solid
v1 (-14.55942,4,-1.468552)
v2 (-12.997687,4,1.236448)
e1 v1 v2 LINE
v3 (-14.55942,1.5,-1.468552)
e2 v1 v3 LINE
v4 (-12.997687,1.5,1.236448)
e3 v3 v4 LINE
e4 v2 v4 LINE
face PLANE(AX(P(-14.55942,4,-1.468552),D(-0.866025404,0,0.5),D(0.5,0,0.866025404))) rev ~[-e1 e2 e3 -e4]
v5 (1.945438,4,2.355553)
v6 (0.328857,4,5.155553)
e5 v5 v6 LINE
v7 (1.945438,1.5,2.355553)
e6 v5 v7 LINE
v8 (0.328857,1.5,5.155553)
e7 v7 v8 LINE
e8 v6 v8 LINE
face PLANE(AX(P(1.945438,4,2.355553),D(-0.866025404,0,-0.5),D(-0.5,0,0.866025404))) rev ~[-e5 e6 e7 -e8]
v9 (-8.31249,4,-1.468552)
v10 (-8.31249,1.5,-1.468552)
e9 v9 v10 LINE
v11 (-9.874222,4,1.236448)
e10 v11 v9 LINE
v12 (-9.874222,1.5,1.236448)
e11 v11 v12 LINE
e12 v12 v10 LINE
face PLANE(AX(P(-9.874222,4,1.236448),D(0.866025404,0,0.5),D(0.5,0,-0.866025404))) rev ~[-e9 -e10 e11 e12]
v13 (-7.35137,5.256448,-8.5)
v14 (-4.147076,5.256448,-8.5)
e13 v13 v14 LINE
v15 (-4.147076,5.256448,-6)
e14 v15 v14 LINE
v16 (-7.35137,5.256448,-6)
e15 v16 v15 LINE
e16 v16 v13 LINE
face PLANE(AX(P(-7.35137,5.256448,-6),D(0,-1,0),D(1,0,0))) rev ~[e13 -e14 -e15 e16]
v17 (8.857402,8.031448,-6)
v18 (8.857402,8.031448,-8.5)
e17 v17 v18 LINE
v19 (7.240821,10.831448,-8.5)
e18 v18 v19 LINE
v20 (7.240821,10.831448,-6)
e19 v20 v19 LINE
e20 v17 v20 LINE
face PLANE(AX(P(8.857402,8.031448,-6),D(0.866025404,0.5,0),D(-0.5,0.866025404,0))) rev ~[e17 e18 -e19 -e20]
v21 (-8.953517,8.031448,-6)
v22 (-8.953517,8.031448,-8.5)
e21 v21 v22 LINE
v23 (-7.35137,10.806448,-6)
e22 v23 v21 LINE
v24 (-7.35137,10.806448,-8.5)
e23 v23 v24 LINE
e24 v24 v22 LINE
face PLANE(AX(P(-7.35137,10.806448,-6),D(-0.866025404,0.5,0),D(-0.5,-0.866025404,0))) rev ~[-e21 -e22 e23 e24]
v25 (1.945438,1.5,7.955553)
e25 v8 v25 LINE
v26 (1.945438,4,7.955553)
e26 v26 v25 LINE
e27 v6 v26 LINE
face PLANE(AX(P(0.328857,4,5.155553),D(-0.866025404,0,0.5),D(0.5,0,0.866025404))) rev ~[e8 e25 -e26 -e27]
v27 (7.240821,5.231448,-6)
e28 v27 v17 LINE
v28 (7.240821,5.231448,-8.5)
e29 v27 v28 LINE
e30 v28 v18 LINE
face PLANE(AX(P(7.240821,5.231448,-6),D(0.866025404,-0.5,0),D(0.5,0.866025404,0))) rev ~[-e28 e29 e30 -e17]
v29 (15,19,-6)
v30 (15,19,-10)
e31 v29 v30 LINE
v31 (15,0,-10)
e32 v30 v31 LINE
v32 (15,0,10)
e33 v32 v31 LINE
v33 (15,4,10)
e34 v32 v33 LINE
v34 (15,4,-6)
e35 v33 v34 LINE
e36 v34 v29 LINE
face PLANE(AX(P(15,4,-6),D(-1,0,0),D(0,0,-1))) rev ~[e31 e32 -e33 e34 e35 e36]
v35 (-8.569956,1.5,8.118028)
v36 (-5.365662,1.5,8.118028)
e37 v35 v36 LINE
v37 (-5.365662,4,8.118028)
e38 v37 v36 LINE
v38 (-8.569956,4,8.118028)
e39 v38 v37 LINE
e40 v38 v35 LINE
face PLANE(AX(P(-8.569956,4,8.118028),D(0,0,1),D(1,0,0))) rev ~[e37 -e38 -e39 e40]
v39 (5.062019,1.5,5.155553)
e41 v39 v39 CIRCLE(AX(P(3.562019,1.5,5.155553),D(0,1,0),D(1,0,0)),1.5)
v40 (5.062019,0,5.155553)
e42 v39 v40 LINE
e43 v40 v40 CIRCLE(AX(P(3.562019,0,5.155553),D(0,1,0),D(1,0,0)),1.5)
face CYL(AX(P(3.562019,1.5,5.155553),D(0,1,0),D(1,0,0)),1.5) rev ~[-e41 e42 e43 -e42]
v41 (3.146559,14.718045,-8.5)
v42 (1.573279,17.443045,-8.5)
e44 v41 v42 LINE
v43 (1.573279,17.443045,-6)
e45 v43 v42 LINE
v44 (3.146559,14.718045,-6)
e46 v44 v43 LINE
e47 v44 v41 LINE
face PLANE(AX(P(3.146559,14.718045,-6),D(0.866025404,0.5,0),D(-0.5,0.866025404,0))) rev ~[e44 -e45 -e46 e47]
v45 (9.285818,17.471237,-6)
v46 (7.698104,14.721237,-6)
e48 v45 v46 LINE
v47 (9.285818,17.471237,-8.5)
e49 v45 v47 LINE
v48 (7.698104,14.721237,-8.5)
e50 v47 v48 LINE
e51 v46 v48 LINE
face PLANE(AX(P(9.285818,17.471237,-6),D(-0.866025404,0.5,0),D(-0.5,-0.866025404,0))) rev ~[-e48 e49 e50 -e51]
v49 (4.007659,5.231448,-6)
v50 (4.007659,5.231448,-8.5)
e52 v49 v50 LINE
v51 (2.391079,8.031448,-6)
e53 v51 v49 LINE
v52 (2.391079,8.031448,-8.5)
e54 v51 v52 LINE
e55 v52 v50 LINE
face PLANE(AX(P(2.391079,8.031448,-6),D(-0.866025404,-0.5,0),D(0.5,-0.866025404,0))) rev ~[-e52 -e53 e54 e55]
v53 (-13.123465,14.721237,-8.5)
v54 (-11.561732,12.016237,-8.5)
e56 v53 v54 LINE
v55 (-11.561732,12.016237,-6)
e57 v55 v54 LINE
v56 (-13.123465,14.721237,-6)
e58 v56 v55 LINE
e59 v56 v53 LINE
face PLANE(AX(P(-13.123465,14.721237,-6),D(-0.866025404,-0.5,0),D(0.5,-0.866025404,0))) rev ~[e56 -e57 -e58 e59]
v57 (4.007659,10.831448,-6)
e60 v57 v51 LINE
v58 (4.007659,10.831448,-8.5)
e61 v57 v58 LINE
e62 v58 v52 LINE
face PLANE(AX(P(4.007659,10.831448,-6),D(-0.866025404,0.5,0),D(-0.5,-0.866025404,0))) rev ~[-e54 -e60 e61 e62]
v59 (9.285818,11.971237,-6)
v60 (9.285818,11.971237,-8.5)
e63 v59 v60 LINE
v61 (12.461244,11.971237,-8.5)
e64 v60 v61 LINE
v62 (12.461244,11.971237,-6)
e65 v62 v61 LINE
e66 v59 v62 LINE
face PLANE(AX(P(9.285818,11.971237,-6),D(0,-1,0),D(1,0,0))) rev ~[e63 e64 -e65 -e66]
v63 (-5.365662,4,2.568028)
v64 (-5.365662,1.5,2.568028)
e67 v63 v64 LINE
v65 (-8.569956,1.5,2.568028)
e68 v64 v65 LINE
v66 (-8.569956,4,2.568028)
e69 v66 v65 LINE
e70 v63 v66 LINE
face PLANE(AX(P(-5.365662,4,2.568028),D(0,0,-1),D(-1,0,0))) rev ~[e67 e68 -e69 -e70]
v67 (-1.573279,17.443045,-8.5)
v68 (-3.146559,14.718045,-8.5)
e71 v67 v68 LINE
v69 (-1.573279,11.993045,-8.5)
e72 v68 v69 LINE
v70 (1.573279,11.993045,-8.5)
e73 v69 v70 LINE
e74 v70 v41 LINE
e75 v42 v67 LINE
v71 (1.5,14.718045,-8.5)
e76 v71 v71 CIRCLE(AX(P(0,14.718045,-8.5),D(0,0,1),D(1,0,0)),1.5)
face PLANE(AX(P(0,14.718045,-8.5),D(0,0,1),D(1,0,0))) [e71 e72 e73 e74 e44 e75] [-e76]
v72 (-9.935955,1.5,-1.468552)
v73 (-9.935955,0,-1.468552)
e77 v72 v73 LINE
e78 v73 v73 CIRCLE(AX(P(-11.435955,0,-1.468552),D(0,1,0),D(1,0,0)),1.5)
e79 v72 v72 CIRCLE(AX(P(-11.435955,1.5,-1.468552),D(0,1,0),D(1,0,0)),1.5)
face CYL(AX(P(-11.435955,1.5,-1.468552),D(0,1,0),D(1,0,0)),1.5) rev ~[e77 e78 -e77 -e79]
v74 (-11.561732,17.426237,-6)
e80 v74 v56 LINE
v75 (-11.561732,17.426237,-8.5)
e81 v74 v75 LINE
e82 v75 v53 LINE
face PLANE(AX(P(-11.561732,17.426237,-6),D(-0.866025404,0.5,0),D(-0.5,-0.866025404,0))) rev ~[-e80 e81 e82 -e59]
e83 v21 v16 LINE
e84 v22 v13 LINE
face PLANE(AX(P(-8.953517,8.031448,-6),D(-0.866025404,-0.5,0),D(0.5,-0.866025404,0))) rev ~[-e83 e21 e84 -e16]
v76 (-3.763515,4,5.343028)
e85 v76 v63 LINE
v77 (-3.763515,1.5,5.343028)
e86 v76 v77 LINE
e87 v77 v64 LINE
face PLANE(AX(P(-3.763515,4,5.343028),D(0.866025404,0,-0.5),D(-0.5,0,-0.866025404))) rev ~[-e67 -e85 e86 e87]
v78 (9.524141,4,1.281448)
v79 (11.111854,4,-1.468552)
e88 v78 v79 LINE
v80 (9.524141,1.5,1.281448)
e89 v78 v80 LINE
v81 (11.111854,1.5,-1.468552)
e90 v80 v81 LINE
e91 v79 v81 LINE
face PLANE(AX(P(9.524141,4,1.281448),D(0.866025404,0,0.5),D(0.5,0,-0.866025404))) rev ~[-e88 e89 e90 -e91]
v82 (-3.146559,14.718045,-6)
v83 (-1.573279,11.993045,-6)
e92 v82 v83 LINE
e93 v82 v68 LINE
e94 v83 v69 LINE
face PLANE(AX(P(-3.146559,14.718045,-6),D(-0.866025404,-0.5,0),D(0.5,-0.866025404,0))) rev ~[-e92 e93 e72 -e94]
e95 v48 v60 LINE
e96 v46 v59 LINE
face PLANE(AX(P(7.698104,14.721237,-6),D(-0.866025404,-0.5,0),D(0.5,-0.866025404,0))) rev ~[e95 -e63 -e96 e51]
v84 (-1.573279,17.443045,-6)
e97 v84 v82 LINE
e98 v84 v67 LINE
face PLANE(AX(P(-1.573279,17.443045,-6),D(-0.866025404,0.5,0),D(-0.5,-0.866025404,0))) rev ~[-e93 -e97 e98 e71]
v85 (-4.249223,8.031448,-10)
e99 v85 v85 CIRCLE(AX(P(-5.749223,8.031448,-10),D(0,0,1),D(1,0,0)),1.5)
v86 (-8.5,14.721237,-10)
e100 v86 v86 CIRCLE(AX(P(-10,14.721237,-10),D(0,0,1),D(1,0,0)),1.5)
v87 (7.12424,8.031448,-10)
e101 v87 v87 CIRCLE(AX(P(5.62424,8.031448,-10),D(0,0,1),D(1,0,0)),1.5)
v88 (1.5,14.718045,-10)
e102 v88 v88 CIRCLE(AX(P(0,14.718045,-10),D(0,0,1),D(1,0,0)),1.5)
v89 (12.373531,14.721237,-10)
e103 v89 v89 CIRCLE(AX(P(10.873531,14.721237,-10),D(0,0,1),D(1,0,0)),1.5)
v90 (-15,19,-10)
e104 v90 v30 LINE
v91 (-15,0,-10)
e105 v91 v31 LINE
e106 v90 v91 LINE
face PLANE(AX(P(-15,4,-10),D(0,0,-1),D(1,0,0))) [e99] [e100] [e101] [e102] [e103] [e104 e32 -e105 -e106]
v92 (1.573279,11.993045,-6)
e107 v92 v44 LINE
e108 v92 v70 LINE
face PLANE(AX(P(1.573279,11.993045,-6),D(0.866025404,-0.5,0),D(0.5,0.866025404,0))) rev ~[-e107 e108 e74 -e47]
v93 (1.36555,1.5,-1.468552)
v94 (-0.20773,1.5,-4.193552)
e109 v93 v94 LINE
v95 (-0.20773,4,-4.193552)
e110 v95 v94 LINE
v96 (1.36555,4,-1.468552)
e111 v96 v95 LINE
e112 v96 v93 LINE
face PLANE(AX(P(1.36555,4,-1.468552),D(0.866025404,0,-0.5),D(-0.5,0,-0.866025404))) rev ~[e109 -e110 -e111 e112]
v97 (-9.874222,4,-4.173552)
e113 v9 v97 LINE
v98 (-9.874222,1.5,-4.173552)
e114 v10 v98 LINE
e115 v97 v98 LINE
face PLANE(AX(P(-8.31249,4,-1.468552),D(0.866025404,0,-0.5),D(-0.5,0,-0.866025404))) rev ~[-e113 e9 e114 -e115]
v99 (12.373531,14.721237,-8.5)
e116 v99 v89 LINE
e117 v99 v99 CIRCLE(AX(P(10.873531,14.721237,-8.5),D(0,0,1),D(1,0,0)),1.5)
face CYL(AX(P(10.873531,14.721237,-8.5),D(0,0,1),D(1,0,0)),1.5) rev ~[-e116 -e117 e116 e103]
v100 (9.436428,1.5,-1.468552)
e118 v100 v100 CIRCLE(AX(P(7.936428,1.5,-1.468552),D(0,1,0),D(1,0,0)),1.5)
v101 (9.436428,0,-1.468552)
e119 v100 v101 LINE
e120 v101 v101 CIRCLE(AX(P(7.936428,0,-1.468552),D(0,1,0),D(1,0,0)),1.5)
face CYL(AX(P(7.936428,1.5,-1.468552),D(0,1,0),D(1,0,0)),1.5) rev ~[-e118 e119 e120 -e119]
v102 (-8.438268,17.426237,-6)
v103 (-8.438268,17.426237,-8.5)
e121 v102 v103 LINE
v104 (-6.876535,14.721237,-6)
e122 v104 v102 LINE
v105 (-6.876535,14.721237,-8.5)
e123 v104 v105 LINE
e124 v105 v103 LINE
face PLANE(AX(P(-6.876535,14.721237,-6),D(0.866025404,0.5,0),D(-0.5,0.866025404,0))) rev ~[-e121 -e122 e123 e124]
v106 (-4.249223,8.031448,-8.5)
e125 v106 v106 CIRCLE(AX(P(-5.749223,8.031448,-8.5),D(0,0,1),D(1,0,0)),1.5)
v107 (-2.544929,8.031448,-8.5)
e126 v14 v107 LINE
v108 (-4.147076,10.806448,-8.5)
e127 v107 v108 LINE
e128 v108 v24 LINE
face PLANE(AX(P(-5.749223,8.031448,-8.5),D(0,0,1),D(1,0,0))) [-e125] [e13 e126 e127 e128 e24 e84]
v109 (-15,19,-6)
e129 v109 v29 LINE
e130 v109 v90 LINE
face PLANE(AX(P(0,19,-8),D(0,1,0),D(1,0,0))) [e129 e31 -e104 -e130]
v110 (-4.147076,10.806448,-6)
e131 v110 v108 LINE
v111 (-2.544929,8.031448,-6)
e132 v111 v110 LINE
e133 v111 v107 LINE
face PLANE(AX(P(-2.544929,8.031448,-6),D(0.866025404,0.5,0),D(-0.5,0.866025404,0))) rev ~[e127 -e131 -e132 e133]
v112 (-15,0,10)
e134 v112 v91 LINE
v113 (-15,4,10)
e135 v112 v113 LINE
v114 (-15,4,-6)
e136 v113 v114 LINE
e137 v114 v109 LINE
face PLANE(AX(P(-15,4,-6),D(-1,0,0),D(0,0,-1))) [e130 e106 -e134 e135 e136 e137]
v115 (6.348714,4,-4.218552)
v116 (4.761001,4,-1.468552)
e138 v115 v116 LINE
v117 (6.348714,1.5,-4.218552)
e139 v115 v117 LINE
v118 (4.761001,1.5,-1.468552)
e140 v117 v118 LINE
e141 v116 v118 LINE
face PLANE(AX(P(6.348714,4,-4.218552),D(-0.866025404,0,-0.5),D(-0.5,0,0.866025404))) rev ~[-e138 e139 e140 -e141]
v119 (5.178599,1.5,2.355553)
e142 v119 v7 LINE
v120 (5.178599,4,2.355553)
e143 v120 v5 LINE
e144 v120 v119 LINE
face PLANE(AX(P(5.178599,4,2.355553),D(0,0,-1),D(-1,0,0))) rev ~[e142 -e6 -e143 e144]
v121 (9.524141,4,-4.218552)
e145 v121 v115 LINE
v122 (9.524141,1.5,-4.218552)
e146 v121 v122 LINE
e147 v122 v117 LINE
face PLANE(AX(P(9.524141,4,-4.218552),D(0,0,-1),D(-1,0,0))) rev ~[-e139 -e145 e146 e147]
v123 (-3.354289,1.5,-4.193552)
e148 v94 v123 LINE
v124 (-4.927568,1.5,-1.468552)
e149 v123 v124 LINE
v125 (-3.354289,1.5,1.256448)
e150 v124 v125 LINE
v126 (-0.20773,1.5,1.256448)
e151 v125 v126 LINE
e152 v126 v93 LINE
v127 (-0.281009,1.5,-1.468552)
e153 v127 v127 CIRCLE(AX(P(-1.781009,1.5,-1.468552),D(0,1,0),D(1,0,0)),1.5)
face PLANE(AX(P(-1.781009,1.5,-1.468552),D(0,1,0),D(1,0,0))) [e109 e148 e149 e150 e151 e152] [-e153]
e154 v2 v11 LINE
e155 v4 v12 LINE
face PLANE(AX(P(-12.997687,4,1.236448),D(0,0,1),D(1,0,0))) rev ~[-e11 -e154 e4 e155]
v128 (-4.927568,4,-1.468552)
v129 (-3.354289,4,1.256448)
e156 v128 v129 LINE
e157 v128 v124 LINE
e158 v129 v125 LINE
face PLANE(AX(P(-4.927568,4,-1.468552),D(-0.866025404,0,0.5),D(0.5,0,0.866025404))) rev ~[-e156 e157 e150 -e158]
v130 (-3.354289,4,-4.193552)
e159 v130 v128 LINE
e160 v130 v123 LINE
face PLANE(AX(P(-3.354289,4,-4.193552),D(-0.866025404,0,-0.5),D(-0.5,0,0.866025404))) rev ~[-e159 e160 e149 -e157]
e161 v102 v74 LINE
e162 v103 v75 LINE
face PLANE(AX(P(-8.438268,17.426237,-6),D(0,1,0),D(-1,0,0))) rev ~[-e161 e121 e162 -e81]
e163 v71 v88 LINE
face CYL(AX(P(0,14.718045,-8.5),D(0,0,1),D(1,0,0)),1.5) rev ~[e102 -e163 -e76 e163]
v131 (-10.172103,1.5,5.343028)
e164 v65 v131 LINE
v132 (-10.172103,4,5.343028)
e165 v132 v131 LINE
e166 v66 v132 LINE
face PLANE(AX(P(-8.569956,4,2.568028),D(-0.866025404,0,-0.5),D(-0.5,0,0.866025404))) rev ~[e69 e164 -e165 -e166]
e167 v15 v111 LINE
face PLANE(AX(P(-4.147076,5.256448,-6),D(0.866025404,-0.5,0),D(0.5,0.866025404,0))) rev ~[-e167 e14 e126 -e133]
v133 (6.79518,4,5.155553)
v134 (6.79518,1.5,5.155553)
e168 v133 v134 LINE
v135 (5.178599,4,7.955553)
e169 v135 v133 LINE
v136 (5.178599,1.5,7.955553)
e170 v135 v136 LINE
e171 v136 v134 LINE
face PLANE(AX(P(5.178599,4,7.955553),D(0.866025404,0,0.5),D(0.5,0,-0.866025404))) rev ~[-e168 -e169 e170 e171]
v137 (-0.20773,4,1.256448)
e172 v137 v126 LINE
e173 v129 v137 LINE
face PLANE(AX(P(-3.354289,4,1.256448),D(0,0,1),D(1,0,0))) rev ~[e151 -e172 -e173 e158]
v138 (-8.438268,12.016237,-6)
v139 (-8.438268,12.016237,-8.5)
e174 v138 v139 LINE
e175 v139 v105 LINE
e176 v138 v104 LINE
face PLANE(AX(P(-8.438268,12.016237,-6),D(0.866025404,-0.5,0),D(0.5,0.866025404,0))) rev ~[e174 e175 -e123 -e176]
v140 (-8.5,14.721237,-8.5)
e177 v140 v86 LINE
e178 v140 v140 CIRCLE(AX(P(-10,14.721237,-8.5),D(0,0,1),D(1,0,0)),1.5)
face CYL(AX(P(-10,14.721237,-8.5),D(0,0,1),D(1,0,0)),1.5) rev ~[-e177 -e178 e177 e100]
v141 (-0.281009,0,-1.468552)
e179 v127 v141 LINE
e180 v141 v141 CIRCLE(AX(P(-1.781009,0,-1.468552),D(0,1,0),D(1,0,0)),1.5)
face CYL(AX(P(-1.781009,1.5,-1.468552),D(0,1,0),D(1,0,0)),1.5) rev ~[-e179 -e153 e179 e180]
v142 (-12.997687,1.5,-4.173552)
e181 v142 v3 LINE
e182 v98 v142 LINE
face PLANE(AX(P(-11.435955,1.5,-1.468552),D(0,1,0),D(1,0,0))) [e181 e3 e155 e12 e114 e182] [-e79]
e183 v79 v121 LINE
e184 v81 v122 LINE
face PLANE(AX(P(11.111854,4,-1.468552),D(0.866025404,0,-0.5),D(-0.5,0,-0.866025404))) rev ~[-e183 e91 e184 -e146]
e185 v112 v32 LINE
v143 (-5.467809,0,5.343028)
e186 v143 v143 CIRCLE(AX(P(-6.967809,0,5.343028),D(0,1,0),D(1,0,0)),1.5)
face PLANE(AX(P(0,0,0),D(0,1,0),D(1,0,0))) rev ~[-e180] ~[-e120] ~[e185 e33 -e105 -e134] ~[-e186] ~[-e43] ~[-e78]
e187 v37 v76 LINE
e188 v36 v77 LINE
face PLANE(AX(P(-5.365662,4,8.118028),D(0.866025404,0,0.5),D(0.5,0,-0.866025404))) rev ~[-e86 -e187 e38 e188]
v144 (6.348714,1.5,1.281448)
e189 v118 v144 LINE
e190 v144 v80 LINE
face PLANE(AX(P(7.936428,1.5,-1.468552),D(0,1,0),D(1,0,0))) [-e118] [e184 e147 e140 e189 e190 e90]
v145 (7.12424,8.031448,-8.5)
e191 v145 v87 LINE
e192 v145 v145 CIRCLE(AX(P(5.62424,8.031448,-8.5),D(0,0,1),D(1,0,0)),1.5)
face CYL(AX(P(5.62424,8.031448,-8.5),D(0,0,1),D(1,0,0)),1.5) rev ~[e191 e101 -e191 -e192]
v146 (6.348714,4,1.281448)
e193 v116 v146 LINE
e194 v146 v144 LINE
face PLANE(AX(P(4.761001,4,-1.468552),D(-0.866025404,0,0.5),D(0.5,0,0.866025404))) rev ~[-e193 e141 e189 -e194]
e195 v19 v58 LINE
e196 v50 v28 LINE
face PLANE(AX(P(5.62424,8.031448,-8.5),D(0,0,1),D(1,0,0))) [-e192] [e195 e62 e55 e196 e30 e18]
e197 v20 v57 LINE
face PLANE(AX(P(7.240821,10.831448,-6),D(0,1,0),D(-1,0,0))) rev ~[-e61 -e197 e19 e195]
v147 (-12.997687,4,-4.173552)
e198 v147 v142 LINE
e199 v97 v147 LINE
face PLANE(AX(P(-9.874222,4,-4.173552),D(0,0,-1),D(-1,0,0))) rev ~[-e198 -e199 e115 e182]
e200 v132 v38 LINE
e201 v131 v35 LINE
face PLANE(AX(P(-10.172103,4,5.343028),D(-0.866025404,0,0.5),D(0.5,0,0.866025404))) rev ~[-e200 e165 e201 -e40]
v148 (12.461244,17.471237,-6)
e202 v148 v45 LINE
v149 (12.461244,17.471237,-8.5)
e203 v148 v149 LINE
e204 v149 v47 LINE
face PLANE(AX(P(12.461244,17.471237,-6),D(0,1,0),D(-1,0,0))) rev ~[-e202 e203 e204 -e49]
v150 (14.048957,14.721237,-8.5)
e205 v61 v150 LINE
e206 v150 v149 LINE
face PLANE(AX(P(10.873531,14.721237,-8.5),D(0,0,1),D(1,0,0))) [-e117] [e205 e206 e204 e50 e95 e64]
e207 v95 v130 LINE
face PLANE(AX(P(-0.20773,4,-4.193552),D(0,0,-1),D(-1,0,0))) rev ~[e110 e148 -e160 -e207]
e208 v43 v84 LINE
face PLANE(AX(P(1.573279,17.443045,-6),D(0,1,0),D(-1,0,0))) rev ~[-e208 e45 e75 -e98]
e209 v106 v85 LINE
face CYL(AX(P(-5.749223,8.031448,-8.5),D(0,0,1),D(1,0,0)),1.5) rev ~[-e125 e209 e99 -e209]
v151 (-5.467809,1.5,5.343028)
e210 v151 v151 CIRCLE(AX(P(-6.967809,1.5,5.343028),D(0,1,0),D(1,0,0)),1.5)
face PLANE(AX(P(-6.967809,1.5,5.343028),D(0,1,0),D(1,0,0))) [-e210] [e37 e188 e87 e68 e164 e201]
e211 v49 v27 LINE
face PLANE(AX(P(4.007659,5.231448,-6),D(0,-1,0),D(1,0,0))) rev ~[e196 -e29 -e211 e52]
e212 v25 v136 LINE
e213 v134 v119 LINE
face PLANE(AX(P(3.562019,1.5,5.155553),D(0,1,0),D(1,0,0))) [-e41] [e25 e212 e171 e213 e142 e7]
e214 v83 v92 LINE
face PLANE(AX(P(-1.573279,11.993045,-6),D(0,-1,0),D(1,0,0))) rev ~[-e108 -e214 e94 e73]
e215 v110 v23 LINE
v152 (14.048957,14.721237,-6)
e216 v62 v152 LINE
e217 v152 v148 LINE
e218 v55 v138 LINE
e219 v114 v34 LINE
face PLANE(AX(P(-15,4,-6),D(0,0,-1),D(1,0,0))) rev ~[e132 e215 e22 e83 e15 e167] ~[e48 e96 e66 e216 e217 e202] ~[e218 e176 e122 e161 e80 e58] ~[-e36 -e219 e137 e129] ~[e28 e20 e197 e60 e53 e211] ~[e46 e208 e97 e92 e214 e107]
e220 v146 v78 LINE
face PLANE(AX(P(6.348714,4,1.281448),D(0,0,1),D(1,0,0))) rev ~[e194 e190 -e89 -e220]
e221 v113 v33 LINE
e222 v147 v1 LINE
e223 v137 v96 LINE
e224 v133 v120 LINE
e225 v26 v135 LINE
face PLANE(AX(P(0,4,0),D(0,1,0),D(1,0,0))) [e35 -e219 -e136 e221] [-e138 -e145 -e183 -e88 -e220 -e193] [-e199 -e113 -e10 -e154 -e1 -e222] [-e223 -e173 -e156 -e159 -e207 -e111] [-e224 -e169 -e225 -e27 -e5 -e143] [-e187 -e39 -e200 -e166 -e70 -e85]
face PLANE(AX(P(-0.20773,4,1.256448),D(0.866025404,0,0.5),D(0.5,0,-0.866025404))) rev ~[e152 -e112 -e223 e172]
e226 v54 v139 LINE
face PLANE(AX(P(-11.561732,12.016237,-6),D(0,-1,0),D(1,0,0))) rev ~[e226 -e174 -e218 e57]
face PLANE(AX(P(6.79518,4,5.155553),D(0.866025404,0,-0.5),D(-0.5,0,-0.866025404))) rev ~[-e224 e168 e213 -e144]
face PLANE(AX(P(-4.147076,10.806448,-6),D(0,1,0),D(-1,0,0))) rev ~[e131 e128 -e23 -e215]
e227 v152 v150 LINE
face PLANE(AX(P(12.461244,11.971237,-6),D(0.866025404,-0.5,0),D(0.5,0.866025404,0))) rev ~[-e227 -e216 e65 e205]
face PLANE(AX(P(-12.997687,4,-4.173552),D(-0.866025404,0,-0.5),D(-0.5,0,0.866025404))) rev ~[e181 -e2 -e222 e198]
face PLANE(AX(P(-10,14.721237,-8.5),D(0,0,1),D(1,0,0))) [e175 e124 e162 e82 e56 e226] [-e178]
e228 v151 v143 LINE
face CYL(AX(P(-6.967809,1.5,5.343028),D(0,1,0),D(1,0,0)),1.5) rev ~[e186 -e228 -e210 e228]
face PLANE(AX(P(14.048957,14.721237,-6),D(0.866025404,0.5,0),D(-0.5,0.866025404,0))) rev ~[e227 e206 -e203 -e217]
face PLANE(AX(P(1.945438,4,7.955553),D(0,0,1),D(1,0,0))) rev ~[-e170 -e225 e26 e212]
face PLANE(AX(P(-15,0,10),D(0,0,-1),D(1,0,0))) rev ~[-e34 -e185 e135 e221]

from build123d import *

# Parameters (mm, degrees)
SKETCH1_W               = 30
SKETCH1_H               = 20
BOSS_EXTRUDE1_DEPTH     = 4
SKETCH2_W               = 30
SKETCH2_H               = 4
BOSS_EXTRUDE2_DEPTH     = 15
CUT_EXTRUDE1_DEPTH      = 2.5
SKETCH4_R               = 1.5
CUT_EXTRUDE2_DEPTH      = 19.5
CUT_EXTRUDE2_DEPTH_BACK = 2.5
CUT_EXTRUDE3_DEPTH      = 16
CUT_EXTRUDE3_DEPTH_BACK = 2.5
SKETCH6_R               = 1.5
CUT_EXTRUDE4_DEPTH      = 18.5
CUT_EXTRUDE4_DEPTH_BACK = 2.5


with BuildPart() as part:
    # Sketch1 → Boss-Extrude1 (new body)
    with BuildSketch(Plane(origin=(0, 0, 0), x_dir=(1, 0, 0), z_dir=(0, 1, 0))):
        Rectangle(SKETCH1_W, SKETCH1_H)
    extrude(amount=BOSS_EXTRUDE1_DEPTH)

    # Sketch2 → Boss-Extrude2 (add)
    with BuildSketch(Plane(origin=(0, 4, 0), x_dir=(1, 0, 0), z_dir=(0, 1, 0))):
        with Locations((0, 8)):
            Rectangle(SKETCH2_W, SKETCH2_H)
    extrude(amount=BOSS_EXTRUDE2_DEPTH)

    # Sketch3 → Cut-Extrude1 (cut)
    with BuildSketch(Plane.XY.offset(-6)):
        Polygon((-8.438267522, 12.016236672), (-6.876535044, 14.721236672), (-8.438267522, 17.426236672), (-11.561732478, 17.426236672), (-13.123464956, 14.721236672), (-11.561732478, 12.016236672), align=None)
        Polygon((1.573279484, 11.993045001), (3.146558967, 14.718045001), (1.573279484, 17.443045001), (-1.573279484, 17.443045001), (-3.146558967, 14.718045001), (-1.573279484, 11.993045001), align=None)
        Polygon((12.46124414, 11.971236672), (14.048957381, 14.721236672), (12.46124414, 17.471236672), (9.28581766, 17.471236672), (7.69810442, 14.721236672), (9.28581766, 11.971236672), align=None)
        Polygon((-4.147076238, 5.256448413), (-2.544929241, 8.031448413), (-4.147076238, 10.806448413), (-7.351370232, 10.806448413), (-8.953517229, 8.031448413), (-7.351370232, 5.256448413), align=None)
        Polygon((7.240820874, 5.231448413), (8.857401628, 8.031448413), (7.240820874, 10.831448413), (4.007659367, 10.831448413), (2.391078613, 8.031448413), (4.007659367, 5.231448413), align=None)
    extrude(amount=-CUT_EXTRUDE1_DEPTH, mode=Mode.SUBTRACT)

    # Sketch4 → Cut-Extrude2 (cut, two sides)
    with BuildSketch(Plane.XY.offset(-8.5)) as cut_extrude2_sk:
        with Locations((-10, 14.721236672)):
            Circle(SKETCH4_R)
        with Locations((0, 14.718045001)):
            Circle(SKETCH4_R)
        with Locations((10.8735309, 14.721236672)):
            Circle(SKETCH4_R)
        with Locations((5.624240121, 8.031448413)):
            Circle(SKETCH4_R)
        with Locations((-5.749223235, 8.031448413)):
            Circle(SKETCH4_R)
    extrude(amount=CUT_EXTRUDE2_DEPTH, mode=Mode.SUBTRACT)
    extrude(cut_extrude2_sk.sketch, amount=-CUT_EXTRUDE2_DEPTH_BACK, mode=Mode.SUBTRACT)

    # Sketch5 → Cut-Extrude3 (cut, two sides)
    with BuildSketch(Plane(origin=(0, 4, 0), x_dir=(1, 0, 0), z_dir=(0, 1, 0))) as cut_extrude3_sk:
        Polygon((-9.874222434, -1.236448413), (-8.312489956, 1.468551587), (-9.874222434, 4.173551587), (-12.99768739, 4.173551587), (-14.559419869, 1.468551587), (-12.99768739, -1.236448413), align=None)
        Polygon((-0.207729888, -1.256448413), (1.365549596, 1.468551587), (-0.207729888, 4.193551587), (-3.354288855, 4.193551587), (-4.927568339, 1.468551587), (-3.354288855, -1.256448413), align=None)
        Polygon((9.524140966, -1.281448413), (11.111854207, 1.468551587), (9.524140966, 4.218551587), (6.348714486, 4.218551587), (4.761001245, 1.468551587), (6.348714486, -1.281448413), align=None)
        Polygon((-5.365661597, -8.118028115), (-3.7635146, -5.343028115), (-5.365661597, -2.568028115), (-8.569955591, -2.568028115), (-10.172102588, -5.343028115), (-8.569955591, -8.118028115), align=None)
        Polygon((5.178599497, -7.955553444), (6.795180251, -5.155553444), (5.178599497, -2.355553444), (1.945437989, -2.355553444), (0.328857236, -5.155553444), (1.945437989, -7.955553444), align=None)
    extrude(amount=CUT_EXTRUDE3_DEPTH, mode=Mode.SUBTRACT)
    extrude(cut_extrude3_sk.sketch, amount=-CUT_EXTRUDE3_DEPTH_BACK, mode=Mode.SUBTRACT)

    # Sketch6 → Cut-Extrude4 (cut, two sides)
    with BuildSketch(Plane(origin=(0, 1.5, 0), x_dir=(1, 0, 0), z_dir=(0, 1, 0))) as cut_extrude4_sk:
        with Locations((-11.435954912, 1.468551587)):
            Circle(SKETCH6_R)
        with Locations((-1.781009372, 1.468551587)):
            Circle(SKETCH6_R)
        with Locations((7.936427726, 1.468551587)):
            Circle(SKETCH6_R)
        with Locations((3.562018743, -5.155553444)):
            Circle(SKETCH6_R)
        with Locations((-6.967808594, -5.343028115)):
            Circle(SKETCH6_R)
    extrude(amount=CUT_EXTRUDE4_DEPTH, mode=Mode.SUBTRACT)
    extrude(cut_extrude4_sk.sketch, amount=-CUT_EXTRUDE4_DEPTH_BACK, mode=Mode.SUBTRACT)


solid = part.part
